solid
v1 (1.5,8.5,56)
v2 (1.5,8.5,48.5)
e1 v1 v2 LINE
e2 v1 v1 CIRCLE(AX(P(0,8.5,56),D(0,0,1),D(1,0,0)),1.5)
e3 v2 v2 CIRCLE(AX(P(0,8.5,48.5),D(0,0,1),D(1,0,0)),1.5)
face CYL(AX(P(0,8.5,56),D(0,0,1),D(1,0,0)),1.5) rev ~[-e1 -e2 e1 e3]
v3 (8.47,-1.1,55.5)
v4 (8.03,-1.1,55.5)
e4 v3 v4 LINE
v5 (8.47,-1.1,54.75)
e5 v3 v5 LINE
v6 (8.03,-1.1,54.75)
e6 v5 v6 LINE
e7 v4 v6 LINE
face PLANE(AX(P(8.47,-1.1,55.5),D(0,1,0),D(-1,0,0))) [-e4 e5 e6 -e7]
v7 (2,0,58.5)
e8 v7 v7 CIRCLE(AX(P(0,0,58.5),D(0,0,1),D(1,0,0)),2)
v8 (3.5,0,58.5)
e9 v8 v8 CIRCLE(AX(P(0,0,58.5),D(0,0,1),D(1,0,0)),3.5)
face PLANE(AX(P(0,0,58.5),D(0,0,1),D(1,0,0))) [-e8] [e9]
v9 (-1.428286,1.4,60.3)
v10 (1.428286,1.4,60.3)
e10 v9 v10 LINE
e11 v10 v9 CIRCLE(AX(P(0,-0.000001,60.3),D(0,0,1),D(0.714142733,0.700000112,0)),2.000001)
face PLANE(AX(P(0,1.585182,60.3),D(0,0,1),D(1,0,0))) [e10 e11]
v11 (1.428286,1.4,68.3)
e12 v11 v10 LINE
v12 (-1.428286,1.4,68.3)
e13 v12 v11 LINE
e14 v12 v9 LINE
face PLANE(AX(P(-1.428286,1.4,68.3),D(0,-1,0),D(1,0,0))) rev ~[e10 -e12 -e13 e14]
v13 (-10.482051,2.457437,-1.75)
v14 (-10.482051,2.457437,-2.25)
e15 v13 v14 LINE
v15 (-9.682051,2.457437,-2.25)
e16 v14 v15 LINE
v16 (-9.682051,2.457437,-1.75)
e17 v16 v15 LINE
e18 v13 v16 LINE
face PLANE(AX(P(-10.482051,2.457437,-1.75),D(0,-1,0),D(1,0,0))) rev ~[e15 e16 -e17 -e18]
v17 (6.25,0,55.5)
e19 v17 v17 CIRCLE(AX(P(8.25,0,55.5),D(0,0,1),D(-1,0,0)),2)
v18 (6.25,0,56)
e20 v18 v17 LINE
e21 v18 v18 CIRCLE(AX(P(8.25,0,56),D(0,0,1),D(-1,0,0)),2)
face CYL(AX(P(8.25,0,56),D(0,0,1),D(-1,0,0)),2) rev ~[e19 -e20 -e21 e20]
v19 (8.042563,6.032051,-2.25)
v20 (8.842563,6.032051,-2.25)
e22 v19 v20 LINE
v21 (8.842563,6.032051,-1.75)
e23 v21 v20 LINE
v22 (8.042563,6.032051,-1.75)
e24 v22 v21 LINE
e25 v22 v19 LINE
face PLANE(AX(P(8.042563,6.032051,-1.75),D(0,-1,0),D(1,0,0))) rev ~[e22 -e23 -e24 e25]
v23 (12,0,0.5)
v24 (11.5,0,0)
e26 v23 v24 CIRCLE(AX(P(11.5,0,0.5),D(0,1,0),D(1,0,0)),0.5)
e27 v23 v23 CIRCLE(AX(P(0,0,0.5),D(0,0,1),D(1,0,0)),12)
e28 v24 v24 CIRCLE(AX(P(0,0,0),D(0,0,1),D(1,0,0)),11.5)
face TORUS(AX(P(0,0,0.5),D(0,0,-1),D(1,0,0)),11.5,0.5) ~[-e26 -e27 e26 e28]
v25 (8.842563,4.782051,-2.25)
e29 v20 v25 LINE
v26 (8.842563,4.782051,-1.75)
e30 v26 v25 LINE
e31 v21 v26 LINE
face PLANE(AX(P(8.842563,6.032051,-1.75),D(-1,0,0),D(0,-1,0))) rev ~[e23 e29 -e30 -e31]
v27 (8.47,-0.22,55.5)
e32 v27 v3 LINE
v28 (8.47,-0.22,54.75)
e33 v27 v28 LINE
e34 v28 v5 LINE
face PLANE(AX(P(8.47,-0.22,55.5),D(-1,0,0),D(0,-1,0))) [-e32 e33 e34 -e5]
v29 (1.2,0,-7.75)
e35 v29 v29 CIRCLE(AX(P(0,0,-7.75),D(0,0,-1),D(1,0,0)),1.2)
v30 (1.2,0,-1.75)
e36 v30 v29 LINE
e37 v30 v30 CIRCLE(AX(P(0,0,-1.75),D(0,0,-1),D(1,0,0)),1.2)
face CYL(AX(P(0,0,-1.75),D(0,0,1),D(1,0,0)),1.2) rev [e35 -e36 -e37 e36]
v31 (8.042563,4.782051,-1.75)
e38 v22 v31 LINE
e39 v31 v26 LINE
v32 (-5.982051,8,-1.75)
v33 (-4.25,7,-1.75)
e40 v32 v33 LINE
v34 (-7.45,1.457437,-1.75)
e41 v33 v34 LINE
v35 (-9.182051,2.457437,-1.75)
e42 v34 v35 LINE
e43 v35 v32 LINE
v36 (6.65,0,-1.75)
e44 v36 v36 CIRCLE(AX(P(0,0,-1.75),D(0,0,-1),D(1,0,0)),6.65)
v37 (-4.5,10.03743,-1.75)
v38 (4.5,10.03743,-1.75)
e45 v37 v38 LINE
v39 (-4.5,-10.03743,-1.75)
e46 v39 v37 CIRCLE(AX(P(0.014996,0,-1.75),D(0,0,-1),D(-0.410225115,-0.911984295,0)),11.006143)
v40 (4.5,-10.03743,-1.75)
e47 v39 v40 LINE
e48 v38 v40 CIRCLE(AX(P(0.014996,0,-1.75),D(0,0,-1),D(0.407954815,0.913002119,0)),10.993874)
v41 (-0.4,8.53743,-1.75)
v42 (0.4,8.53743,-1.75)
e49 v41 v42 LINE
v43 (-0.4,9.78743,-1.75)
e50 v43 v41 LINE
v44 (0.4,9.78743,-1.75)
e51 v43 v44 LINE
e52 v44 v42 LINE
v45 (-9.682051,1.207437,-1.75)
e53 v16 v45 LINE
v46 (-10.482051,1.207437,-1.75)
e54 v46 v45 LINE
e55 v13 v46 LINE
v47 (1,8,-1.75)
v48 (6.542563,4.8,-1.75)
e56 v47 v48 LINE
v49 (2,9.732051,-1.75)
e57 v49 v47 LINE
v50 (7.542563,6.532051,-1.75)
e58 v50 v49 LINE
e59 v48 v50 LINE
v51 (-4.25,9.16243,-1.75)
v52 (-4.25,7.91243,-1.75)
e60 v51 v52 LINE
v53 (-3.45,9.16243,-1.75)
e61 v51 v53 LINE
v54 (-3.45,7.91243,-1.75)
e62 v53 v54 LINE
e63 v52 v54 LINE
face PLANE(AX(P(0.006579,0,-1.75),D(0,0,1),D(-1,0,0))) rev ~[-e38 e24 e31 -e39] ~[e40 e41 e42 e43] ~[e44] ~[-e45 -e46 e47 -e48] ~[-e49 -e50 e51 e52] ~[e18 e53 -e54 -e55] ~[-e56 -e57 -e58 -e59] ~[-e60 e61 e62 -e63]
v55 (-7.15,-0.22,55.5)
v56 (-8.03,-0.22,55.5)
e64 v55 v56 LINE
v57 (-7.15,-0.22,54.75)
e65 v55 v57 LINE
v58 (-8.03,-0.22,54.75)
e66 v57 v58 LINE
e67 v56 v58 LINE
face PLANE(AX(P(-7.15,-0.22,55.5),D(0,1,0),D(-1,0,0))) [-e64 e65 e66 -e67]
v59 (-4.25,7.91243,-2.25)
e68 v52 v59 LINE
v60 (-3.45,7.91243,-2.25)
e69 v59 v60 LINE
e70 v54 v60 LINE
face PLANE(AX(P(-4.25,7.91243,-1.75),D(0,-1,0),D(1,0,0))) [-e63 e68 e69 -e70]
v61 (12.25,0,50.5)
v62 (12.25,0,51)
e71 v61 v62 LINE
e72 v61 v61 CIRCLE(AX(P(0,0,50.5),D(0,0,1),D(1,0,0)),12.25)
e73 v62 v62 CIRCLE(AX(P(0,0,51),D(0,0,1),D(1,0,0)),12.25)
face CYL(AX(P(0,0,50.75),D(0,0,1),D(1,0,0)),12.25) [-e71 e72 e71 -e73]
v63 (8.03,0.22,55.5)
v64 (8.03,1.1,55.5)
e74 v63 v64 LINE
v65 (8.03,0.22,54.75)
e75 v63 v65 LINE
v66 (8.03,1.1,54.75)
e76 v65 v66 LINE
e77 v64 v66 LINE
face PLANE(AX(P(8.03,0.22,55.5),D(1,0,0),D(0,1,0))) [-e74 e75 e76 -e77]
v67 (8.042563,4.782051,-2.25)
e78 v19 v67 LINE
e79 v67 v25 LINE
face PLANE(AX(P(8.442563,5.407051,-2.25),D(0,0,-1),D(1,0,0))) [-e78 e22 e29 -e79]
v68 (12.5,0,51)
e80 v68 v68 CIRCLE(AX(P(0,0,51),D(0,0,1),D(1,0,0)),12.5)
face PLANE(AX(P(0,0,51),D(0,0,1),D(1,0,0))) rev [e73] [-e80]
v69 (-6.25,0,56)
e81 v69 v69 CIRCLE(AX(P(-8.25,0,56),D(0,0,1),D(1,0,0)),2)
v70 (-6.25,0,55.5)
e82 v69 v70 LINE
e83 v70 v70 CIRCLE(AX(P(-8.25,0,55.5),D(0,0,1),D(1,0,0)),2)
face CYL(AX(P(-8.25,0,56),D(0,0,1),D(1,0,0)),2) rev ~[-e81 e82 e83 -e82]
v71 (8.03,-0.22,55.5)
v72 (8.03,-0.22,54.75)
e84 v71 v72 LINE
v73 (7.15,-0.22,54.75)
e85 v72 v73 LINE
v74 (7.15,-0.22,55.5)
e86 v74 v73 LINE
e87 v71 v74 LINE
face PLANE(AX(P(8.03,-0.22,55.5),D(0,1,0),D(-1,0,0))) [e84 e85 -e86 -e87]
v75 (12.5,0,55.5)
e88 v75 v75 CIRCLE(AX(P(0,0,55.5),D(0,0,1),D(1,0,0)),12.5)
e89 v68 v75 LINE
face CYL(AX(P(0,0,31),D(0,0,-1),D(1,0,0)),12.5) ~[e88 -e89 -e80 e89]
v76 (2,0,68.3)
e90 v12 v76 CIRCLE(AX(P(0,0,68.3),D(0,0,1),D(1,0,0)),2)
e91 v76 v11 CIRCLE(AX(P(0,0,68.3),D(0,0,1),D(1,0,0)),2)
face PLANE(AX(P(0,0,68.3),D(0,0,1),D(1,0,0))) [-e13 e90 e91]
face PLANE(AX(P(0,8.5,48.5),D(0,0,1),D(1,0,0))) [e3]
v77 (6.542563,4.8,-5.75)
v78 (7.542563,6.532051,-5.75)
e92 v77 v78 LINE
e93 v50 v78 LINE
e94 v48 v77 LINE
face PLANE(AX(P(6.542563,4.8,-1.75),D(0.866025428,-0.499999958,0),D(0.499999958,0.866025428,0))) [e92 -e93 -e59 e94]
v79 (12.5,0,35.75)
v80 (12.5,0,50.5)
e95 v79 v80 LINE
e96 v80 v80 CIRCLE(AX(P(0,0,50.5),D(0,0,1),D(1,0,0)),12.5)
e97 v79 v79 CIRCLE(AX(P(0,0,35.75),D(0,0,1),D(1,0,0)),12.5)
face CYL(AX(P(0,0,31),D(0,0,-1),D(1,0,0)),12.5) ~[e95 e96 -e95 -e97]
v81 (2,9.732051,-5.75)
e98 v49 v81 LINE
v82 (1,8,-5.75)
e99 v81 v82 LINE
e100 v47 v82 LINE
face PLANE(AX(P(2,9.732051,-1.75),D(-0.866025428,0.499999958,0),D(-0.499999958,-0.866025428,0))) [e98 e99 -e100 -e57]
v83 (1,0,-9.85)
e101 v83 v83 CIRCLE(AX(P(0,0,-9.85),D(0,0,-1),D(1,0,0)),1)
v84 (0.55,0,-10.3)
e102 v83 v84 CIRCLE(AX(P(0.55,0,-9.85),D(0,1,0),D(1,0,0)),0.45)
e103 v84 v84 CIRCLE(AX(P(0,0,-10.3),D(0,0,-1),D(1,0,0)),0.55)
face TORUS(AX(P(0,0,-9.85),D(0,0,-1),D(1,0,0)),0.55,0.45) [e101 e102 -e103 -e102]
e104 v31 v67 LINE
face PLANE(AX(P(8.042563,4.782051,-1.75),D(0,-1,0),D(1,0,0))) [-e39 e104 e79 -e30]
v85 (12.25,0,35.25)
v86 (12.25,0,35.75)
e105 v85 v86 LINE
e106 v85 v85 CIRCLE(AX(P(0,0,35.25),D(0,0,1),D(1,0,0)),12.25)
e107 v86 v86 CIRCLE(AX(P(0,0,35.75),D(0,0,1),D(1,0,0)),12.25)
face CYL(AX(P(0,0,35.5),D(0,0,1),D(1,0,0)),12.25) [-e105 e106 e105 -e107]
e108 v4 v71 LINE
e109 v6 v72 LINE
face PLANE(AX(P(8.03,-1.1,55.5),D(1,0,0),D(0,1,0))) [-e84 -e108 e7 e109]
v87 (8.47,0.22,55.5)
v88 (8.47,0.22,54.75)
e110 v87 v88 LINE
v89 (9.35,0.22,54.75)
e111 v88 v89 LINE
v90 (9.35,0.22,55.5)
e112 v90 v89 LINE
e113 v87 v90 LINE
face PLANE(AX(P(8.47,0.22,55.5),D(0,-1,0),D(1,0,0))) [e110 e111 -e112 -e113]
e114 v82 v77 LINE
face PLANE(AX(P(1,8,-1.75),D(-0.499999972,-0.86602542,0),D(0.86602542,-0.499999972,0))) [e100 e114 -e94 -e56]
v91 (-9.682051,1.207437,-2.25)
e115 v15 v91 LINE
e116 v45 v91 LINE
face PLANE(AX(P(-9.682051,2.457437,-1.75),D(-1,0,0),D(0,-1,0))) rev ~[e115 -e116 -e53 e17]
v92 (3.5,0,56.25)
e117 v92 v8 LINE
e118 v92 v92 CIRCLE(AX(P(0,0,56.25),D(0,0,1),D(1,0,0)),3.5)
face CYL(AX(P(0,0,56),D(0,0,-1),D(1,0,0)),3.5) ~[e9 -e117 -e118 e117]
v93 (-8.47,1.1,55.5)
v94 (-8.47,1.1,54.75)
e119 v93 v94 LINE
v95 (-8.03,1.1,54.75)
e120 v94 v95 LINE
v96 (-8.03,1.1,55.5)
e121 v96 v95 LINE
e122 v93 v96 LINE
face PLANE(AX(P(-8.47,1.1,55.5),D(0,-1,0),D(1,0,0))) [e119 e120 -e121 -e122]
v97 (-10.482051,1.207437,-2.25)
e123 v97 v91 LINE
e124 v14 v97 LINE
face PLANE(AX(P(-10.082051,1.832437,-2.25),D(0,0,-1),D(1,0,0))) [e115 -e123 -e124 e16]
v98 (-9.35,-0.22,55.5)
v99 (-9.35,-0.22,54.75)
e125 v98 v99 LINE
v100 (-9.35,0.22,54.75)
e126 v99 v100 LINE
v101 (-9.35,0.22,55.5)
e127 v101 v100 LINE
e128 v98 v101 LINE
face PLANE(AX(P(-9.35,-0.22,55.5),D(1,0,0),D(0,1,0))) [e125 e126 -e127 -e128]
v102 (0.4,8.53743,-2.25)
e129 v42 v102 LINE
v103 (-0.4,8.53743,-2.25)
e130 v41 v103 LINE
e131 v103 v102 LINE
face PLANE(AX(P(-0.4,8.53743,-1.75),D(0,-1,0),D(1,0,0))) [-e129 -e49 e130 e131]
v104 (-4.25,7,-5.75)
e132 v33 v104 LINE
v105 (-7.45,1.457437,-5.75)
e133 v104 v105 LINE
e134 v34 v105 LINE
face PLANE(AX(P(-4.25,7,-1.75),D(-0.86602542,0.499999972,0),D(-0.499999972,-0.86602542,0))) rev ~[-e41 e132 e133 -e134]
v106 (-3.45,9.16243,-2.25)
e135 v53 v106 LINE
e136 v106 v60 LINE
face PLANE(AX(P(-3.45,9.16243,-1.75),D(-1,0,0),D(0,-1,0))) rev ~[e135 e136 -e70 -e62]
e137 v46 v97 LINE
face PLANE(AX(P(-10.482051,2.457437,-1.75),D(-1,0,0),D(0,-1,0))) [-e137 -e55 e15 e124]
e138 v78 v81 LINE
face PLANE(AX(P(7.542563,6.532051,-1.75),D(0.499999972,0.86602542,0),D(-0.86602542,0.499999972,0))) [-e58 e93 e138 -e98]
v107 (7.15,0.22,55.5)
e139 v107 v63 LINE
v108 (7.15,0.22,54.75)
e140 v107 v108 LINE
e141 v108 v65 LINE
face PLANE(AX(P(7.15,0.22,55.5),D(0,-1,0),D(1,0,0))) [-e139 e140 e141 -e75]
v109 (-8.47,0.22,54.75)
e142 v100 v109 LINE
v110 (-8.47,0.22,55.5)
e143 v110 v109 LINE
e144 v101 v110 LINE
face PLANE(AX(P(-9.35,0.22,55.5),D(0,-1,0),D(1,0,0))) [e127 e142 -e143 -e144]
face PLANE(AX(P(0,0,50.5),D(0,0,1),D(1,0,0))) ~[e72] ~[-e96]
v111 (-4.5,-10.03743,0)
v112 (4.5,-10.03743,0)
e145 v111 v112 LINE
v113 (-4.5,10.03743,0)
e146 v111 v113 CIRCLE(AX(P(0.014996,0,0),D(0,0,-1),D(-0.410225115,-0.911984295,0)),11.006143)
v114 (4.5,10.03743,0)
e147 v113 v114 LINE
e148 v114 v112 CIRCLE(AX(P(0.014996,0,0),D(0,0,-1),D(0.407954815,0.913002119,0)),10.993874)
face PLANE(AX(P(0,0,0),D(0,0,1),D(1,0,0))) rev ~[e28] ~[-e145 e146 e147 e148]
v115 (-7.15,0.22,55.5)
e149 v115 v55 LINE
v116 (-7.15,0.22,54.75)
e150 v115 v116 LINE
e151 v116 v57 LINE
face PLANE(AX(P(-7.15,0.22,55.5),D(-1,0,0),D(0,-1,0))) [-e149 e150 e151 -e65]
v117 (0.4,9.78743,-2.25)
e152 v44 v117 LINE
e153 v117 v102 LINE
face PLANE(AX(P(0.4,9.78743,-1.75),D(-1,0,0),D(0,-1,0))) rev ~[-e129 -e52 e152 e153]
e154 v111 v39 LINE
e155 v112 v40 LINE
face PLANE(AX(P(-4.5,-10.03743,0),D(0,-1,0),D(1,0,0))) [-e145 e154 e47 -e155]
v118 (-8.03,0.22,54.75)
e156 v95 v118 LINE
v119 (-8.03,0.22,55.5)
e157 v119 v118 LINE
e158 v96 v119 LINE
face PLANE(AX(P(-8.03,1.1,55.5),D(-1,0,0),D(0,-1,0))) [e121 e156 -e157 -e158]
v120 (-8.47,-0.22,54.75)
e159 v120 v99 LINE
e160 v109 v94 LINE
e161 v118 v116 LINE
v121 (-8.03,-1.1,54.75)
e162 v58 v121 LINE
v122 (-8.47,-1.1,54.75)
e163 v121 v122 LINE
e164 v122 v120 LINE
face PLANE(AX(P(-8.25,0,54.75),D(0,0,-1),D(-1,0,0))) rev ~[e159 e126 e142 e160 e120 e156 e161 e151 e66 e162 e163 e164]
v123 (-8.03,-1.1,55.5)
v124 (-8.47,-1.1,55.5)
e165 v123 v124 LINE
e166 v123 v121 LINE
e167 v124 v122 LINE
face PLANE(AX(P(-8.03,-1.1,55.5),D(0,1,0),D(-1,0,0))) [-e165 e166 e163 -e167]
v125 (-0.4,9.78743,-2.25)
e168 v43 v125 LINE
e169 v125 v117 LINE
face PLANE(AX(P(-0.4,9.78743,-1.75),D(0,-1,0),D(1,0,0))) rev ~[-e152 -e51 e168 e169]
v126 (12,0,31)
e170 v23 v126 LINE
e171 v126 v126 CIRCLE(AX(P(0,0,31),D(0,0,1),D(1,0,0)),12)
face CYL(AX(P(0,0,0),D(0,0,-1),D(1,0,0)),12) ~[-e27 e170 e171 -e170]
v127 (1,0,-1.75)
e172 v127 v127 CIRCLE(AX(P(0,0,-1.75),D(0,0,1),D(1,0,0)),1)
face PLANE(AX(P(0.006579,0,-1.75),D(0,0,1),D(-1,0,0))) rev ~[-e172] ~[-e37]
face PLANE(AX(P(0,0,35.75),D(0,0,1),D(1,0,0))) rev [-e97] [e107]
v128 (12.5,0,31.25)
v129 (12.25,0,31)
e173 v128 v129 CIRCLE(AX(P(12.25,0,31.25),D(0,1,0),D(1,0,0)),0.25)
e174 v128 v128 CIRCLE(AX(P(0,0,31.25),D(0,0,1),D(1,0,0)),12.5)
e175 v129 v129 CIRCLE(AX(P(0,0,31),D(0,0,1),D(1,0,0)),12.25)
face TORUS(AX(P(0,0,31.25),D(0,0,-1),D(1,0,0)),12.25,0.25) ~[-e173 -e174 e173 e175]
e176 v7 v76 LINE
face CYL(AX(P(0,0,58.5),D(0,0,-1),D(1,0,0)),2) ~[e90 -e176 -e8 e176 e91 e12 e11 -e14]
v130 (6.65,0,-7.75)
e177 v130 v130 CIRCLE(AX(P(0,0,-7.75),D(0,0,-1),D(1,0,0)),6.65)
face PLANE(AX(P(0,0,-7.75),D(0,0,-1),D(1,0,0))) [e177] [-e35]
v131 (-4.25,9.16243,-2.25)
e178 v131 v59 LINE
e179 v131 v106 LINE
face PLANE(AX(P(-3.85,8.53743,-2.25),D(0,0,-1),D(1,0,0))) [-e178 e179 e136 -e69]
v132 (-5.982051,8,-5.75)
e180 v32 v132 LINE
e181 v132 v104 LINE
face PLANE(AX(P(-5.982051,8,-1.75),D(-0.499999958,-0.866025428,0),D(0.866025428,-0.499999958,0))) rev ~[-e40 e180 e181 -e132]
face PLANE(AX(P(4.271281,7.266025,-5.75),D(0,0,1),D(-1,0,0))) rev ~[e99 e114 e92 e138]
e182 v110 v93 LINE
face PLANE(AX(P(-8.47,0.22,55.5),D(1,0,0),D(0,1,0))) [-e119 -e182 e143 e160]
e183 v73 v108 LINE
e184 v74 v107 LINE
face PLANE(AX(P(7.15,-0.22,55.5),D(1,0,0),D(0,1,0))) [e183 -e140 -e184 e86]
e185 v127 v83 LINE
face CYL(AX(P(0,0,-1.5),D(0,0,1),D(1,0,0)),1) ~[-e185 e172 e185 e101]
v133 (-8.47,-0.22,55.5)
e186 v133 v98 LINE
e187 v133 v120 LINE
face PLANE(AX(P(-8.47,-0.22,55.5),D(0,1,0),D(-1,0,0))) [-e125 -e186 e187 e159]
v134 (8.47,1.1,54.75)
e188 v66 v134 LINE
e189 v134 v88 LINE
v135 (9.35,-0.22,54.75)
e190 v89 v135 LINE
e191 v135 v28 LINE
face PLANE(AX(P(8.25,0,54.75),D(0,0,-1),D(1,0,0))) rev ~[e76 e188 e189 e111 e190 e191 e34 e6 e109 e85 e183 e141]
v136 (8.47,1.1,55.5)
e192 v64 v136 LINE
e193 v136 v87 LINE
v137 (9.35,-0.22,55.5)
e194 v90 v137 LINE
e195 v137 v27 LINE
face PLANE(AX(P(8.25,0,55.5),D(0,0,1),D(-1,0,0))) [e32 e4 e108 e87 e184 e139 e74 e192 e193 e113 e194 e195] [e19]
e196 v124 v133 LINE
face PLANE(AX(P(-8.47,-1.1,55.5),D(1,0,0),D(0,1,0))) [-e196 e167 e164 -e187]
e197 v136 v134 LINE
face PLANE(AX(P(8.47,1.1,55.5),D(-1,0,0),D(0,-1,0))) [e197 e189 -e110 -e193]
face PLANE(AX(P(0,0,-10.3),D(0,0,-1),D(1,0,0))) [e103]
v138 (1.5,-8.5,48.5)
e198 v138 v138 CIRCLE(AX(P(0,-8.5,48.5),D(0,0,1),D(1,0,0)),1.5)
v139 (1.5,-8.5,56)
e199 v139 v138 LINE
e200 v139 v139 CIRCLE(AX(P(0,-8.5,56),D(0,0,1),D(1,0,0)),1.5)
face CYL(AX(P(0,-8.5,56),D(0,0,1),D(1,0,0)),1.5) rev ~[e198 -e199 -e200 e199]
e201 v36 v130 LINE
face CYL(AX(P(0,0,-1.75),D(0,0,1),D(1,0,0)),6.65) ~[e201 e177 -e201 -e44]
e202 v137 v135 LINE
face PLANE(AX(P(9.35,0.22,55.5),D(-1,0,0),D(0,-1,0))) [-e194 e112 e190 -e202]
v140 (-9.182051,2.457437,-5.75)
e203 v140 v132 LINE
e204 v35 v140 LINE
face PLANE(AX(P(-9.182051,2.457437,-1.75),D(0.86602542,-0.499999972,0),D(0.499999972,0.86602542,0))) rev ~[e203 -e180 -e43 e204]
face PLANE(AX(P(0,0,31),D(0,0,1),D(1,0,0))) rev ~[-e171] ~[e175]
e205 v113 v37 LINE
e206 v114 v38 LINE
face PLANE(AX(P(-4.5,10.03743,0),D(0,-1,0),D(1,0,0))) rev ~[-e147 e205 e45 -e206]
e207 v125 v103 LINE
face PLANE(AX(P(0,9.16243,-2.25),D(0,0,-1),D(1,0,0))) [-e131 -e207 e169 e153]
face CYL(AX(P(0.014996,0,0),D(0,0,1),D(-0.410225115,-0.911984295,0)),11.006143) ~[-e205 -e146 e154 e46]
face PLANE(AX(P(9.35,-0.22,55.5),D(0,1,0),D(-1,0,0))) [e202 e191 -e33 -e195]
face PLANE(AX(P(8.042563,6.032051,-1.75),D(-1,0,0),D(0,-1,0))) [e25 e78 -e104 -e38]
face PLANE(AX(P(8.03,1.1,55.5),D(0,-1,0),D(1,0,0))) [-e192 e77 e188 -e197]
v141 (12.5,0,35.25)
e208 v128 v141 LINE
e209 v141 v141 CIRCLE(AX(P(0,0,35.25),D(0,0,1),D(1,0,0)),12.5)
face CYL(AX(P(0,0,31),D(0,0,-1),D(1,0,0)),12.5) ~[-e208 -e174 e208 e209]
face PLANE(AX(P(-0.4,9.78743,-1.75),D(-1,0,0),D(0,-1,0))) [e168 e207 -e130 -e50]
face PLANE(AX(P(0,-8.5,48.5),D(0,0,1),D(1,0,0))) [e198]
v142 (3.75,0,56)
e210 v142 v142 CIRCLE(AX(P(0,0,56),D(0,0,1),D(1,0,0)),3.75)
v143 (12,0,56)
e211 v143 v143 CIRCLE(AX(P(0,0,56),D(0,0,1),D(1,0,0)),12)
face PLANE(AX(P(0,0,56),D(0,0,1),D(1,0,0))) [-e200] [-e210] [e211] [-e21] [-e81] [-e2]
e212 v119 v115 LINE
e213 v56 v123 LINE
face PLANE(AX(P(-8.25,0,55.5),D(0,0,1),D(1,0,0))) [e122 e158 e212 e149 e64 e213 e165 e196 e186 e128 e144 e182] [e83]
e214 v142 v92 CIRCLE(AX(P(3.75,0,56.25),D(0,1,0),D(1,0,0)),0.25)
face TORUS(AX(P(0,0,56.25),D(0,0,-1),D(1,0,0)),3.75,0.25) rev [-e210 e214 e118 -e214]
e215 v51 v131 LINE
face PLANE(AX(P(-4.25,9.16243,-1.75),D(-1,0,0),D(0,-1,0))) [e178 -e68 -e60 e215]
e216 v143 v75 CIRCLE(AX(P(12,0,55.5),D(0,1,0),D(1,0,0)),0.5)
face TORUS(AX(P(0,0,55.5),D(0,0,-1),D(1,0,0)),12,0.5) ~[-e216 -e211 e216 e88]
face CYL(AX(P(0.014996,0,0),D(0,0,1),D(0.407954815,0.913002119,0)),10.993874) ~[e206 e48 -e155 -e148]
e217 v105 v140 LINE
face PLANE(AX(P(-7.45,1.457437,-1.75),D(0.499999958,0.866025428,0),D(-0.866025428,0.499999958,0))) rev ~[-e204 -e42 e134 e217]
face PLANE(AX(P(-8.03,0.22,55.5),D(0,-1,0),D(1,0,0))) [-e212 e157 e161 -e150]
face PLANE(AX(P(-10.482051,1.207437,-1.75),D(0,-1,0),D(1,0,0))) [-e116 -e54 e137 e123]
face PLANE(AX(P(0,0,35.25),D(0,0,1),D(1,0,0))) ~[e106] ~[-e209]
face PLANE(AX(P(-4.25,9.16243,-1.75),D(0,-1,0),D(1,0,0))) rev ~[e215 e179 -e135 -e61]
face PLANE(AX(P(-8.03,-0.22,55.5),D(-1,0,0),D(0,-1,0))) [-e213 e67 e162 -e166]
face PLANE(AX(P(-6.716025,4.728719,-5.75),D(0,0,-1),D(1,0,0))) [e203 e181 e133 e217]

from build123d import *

# Parameters (mm, degrees)
SKETCH_R           = 12
PAD_DEPTH          = 31
SKETCH001_R        = 12.5
PAD001_DEPTH       = 25
SKETCH002_R        = 3.5
PAD002_DEPTH       = 2.5
SKETCH003_R        = 2
PAD003_DEPTH       = 9.8
POCKET_DEPTH       = 8
SKETCH005_R        = 2
POCKET001_DEPTH    = 0.5
POCKET002_DEPTH    = 0.75
POLARPATTERN_COUNT = 2
SKETCH007_R        = 1.5
POCKET003_DEPTH    = 7.5
FILLET_R           = 0.25
FILLET001_R        = 0.5
FILLET002_R        = 0.25
FILLET003_R        = 0.5
SKETCH008_R        = 3
PAD004_DEPTH       = 1.5
SKETCH009_R        = 1
PAD005_DEPTH       = 8.8
FILLET004_R        = 0.45
FILLET005_R        = 0.5
SKETCH010_W        = 0.25
SKETCH010_H        = 0.5
PAD006_DEPTH       = 1.75
SKETCH014_R        = 6.65
SKETCH014_R_2      = 1.2
PAD007_DEPTH       = 6
PAD008_DEPTH       = 4
SKETCH016_W        = 0.8
SKETCH016_H        = 1.25
PAD009_DEPTH       = 0.5


with BuildPart() as part:
    # Sketch → Pad (new body)
    with BuildSketch(Plane.XY):
        Circle(SKETCH_R)
    extrude(amount=PAD_DEPTH)

    # Sketch001 (on Face3 of Pad) → Pad001 (join)
    with BuildSketch(Plane.XY.offset(31)):
        Circle(SKETCH001_R)
    extrude(amount=PAD001_DEPTH)

    # Sketch002 (on Face5 of Pad001) → Pad002 (join)
    with BuildSketch(Plane.XY.offset(56)):
        Circle(SKETCH002_R)
    extrude(amount=PAD002_DEPTH)

    # Sketch003 (on Face7 of Pad002) → Pad003 (join)
    with BuildSketch(Plane.XY.offset(58.5)):
        Circle(SKETCH003_R)
    extrude(amount=PAD003_DEPTH)

    # Sketch004 (on Face9 of Pad003) → Pocket (cut)
    with BuildSketch(Plane.XY.offset(68.3)):
        with BuildLine():
            ThreePointArc((1.428286, 1.4), (0, 2), (-1.428286, 1.4))
            Line((-1.428286, 1.4), (1.428286, 1.4))
        make_face()
    extrude(amount=-POCKET_DEPTH, mode=Mode.SUBTRACT)

    # Sketch005 (on Face5 of Pocket) → Pocket001 (cut)
    with BuildSketch(Plane.XY.offset(56)):
        with Locations((-8.25, 0)):
            Circle(SKETCH005_R)
    pocket001 = extrude(amount=-POCKET001_DEPTH, mode=Mode.SUBTRACT)

    # Sketch006 (on Face8 of Pocket001) → Pocket002 (cut)
    with BuildSketch(Plane.XY.offset(55.5)):
        Polygon((-8.47, 0.22), (-8.47, 1.1), (-8.03, 1.1), (-8.03, 0.22), (-7.15, 0.22), (-7.15, -0.22), (-8.03, -0.22), (-8.03, -1.1), (-8.47, -1.1), (-8.47, -0.22), (-9.35, -0.22), (-9.35, 0.22), align=None)
    pocket002 = extrude(amount=-POCKET002_DEPTH, mode=Mode.SUBTRACT)

    # PolarPattern: Pocket001, Pocket002 ×2 about axis
    polarpattern_axis = Axis((0, 0, 56), (0, 0, 1))
    for i in range(1, POLARPATTERN_COUNT):
        add(pocket001.rotate(polarpattern_axis, i * 360 / POLARPATTERN_COUNT), mode=Mode.SUBTRACT)
        add(pocket002.rotate(polarpattern_axis, i * 360 / POLARPATTERN_COUNT), mode=Mode.SUBTRACT)

    # Sketch007 (on Face5 of PolarPattern) → Pocket003 (cut)
    with BuildSketch(Plane.XY.offset(56)):
        with Locations((0, 8.5)):
            Circle(SKETCH007_R)
        with Locations((0, -8.5)):
            Circle(SKETCH007_R)
    extrude(amount=-POCKET003_DEPTH, mode=Mode.SUBTRACT)

    # Fillet
    fillet_edges = [part.edges().sort_by_distance(p)[0] for p in [
        (-3.5, 0, 56),
    ]]
    fillet(fillet_edges, radius=FILLET_R)

    # Fillet001
    fillet001_edges = [part.edges().sort_by_distance(p)[0] for p in [
        (-12.5, 0, 56),
    ]]
    fillet(fillet001_edges, radius=FILLET001_R)

    # Fillet002
    fillet002_edges = [part.edges().sort_by_distance(p)[0] for p in [
        (-12.5, 0, 31),
    ]]
    fillet(fillet002_edges, radius=FILLET002_R)

    # Fillet003
    fillet003_edges = [part.edges().sort_by_distance(p)[0] for p in [
        (-12, 0, 0),
    ]]
    fillet(fillet003_edges, radius=FILLET003_R)

    # Sketch008 (on Face4 of Fillet003) → Pad004 (join)
    with BuildSketch(Plane(origin=(0, 0, 0), x_dir=(1, 0, 0), z_dir=(0, 0, -1))):
        Circle(SKETCH008_R)
    extrude(amount=PAD004_DEPTH)

    # Sketch009 (on Face8 of Pad004) → Pad005 (join)
    with BuildSketch(Plane(origin=(0, 0, -1.5), x_dir=(1, 0, 0), z_dir=(0, 0, -1))):
        Circle(SKETCH009_R)
    extrude(amount=PAD005_DEPTH)

    # Fillet004
    fillet004_edges = [part.edges().sort_by_distance(p)[0] for p in [
        (-1, 0, -10.3),
    ]]
    fillet(fillet004_edges, radius=FILLET004_R)

    # Fillet005
    fillet005_edges = [part.edges().sort_by_distance(p)[0] for p in [
        (-3, 0, 0),
    ]]
    fillet(fillet005_edges, radius=FILLET005_R)

    # Sketch010 → Groove (revolve, cut)
    with BuildSketch(Plane.XZ):
        with Locations((12.375, 50.75)):
            Rectangle(SKETCH010_W, SKETCH010_H)
        with Locations((12.375, 35.5)):
            Rectangle(SKETCH010_W, SKETCH010_H)
    revolve(axis=Axis((0, 0, 0), (0, 0, 1)), mode=Mode.SUBTRACT)

    # Sketch011 (on Face4 of Groove) → Pad006 (join)
    with BuildSketch(Plane(origin=(0, 0, 0), x_dir=(1, 0, 0), z_dir=(0, 0, -1))):
        with BuildLine():
            Line((-4.5, 10.03743), (4.5, 10.03743))
            ThreePointArc((4.5, -10.03743), (11.00887, 0), (4.5, 10.03743))
            Line((-4.5, -10.03743), (4.5, -10.03743))
            ThreePointArc((-4.5, 10.03743), (-10.991147, 0), (-4.5, -10.03743))
        make_face()
    extrude(amount=PAD006_DEPTH)

    # Sketch014 (on Face8 of Pad006) → Pad007 (join)
    with BuildSketch(Plane(origin=(0, 0, -1.75), x_dir=(1, 0, 0), z_dir=(0, 0, -1))):
        Circle(SKETCH014_R)
        Circle(SKETCH014_R_2, mode=Mode.SUBTRACT)
    extrude(amount=PAD007_DEPTH)

    # Sketch015 (on Face8 of Pad007) → Pad008 (join)
    with BuildSketch(Plane(origin=(0, 0, -1.75), x_dir=(1, 0, 0), z_dir=(0, 0, -1))):
        Polygon((1, -8), (6.542563, -4.8), (7.542563, -6.532051), (2, -9.732051), align=None)
        Polygon((-9.182051, -2.457437), (-5.982051, -8), (-4.25, -7), (-7.45, -1.457437), align=None)
    extrude(amount=PAD008_DEPTH)

    # Sketch016 (on Face8 of Pad008) → Pad009 (join)
    with BuildSketch(Plane(origin=(0, 0, -1.75), x_dir=(1, 0, 0), z_dir=(0, 0, -1))):
        with Locations((-3.85, -8.53743)):
            Rectangle(SKETCH016_W, SKETCH016_H)
        with Locations((0, -9.16243)):
            Rectangle(SKETCH016_W, SKETCH016_H)
        with Locations((-10.082051, -1.832437)):
            Rectangle(SKETCH016_W, SKETCH016_H)
        with Locations((8.442563, -5.407051)):
            Rectangle(SKETCH016_W, SKETCH016_H)
    extrude(amount=PAD009_DEPTH)


solid = part.part
